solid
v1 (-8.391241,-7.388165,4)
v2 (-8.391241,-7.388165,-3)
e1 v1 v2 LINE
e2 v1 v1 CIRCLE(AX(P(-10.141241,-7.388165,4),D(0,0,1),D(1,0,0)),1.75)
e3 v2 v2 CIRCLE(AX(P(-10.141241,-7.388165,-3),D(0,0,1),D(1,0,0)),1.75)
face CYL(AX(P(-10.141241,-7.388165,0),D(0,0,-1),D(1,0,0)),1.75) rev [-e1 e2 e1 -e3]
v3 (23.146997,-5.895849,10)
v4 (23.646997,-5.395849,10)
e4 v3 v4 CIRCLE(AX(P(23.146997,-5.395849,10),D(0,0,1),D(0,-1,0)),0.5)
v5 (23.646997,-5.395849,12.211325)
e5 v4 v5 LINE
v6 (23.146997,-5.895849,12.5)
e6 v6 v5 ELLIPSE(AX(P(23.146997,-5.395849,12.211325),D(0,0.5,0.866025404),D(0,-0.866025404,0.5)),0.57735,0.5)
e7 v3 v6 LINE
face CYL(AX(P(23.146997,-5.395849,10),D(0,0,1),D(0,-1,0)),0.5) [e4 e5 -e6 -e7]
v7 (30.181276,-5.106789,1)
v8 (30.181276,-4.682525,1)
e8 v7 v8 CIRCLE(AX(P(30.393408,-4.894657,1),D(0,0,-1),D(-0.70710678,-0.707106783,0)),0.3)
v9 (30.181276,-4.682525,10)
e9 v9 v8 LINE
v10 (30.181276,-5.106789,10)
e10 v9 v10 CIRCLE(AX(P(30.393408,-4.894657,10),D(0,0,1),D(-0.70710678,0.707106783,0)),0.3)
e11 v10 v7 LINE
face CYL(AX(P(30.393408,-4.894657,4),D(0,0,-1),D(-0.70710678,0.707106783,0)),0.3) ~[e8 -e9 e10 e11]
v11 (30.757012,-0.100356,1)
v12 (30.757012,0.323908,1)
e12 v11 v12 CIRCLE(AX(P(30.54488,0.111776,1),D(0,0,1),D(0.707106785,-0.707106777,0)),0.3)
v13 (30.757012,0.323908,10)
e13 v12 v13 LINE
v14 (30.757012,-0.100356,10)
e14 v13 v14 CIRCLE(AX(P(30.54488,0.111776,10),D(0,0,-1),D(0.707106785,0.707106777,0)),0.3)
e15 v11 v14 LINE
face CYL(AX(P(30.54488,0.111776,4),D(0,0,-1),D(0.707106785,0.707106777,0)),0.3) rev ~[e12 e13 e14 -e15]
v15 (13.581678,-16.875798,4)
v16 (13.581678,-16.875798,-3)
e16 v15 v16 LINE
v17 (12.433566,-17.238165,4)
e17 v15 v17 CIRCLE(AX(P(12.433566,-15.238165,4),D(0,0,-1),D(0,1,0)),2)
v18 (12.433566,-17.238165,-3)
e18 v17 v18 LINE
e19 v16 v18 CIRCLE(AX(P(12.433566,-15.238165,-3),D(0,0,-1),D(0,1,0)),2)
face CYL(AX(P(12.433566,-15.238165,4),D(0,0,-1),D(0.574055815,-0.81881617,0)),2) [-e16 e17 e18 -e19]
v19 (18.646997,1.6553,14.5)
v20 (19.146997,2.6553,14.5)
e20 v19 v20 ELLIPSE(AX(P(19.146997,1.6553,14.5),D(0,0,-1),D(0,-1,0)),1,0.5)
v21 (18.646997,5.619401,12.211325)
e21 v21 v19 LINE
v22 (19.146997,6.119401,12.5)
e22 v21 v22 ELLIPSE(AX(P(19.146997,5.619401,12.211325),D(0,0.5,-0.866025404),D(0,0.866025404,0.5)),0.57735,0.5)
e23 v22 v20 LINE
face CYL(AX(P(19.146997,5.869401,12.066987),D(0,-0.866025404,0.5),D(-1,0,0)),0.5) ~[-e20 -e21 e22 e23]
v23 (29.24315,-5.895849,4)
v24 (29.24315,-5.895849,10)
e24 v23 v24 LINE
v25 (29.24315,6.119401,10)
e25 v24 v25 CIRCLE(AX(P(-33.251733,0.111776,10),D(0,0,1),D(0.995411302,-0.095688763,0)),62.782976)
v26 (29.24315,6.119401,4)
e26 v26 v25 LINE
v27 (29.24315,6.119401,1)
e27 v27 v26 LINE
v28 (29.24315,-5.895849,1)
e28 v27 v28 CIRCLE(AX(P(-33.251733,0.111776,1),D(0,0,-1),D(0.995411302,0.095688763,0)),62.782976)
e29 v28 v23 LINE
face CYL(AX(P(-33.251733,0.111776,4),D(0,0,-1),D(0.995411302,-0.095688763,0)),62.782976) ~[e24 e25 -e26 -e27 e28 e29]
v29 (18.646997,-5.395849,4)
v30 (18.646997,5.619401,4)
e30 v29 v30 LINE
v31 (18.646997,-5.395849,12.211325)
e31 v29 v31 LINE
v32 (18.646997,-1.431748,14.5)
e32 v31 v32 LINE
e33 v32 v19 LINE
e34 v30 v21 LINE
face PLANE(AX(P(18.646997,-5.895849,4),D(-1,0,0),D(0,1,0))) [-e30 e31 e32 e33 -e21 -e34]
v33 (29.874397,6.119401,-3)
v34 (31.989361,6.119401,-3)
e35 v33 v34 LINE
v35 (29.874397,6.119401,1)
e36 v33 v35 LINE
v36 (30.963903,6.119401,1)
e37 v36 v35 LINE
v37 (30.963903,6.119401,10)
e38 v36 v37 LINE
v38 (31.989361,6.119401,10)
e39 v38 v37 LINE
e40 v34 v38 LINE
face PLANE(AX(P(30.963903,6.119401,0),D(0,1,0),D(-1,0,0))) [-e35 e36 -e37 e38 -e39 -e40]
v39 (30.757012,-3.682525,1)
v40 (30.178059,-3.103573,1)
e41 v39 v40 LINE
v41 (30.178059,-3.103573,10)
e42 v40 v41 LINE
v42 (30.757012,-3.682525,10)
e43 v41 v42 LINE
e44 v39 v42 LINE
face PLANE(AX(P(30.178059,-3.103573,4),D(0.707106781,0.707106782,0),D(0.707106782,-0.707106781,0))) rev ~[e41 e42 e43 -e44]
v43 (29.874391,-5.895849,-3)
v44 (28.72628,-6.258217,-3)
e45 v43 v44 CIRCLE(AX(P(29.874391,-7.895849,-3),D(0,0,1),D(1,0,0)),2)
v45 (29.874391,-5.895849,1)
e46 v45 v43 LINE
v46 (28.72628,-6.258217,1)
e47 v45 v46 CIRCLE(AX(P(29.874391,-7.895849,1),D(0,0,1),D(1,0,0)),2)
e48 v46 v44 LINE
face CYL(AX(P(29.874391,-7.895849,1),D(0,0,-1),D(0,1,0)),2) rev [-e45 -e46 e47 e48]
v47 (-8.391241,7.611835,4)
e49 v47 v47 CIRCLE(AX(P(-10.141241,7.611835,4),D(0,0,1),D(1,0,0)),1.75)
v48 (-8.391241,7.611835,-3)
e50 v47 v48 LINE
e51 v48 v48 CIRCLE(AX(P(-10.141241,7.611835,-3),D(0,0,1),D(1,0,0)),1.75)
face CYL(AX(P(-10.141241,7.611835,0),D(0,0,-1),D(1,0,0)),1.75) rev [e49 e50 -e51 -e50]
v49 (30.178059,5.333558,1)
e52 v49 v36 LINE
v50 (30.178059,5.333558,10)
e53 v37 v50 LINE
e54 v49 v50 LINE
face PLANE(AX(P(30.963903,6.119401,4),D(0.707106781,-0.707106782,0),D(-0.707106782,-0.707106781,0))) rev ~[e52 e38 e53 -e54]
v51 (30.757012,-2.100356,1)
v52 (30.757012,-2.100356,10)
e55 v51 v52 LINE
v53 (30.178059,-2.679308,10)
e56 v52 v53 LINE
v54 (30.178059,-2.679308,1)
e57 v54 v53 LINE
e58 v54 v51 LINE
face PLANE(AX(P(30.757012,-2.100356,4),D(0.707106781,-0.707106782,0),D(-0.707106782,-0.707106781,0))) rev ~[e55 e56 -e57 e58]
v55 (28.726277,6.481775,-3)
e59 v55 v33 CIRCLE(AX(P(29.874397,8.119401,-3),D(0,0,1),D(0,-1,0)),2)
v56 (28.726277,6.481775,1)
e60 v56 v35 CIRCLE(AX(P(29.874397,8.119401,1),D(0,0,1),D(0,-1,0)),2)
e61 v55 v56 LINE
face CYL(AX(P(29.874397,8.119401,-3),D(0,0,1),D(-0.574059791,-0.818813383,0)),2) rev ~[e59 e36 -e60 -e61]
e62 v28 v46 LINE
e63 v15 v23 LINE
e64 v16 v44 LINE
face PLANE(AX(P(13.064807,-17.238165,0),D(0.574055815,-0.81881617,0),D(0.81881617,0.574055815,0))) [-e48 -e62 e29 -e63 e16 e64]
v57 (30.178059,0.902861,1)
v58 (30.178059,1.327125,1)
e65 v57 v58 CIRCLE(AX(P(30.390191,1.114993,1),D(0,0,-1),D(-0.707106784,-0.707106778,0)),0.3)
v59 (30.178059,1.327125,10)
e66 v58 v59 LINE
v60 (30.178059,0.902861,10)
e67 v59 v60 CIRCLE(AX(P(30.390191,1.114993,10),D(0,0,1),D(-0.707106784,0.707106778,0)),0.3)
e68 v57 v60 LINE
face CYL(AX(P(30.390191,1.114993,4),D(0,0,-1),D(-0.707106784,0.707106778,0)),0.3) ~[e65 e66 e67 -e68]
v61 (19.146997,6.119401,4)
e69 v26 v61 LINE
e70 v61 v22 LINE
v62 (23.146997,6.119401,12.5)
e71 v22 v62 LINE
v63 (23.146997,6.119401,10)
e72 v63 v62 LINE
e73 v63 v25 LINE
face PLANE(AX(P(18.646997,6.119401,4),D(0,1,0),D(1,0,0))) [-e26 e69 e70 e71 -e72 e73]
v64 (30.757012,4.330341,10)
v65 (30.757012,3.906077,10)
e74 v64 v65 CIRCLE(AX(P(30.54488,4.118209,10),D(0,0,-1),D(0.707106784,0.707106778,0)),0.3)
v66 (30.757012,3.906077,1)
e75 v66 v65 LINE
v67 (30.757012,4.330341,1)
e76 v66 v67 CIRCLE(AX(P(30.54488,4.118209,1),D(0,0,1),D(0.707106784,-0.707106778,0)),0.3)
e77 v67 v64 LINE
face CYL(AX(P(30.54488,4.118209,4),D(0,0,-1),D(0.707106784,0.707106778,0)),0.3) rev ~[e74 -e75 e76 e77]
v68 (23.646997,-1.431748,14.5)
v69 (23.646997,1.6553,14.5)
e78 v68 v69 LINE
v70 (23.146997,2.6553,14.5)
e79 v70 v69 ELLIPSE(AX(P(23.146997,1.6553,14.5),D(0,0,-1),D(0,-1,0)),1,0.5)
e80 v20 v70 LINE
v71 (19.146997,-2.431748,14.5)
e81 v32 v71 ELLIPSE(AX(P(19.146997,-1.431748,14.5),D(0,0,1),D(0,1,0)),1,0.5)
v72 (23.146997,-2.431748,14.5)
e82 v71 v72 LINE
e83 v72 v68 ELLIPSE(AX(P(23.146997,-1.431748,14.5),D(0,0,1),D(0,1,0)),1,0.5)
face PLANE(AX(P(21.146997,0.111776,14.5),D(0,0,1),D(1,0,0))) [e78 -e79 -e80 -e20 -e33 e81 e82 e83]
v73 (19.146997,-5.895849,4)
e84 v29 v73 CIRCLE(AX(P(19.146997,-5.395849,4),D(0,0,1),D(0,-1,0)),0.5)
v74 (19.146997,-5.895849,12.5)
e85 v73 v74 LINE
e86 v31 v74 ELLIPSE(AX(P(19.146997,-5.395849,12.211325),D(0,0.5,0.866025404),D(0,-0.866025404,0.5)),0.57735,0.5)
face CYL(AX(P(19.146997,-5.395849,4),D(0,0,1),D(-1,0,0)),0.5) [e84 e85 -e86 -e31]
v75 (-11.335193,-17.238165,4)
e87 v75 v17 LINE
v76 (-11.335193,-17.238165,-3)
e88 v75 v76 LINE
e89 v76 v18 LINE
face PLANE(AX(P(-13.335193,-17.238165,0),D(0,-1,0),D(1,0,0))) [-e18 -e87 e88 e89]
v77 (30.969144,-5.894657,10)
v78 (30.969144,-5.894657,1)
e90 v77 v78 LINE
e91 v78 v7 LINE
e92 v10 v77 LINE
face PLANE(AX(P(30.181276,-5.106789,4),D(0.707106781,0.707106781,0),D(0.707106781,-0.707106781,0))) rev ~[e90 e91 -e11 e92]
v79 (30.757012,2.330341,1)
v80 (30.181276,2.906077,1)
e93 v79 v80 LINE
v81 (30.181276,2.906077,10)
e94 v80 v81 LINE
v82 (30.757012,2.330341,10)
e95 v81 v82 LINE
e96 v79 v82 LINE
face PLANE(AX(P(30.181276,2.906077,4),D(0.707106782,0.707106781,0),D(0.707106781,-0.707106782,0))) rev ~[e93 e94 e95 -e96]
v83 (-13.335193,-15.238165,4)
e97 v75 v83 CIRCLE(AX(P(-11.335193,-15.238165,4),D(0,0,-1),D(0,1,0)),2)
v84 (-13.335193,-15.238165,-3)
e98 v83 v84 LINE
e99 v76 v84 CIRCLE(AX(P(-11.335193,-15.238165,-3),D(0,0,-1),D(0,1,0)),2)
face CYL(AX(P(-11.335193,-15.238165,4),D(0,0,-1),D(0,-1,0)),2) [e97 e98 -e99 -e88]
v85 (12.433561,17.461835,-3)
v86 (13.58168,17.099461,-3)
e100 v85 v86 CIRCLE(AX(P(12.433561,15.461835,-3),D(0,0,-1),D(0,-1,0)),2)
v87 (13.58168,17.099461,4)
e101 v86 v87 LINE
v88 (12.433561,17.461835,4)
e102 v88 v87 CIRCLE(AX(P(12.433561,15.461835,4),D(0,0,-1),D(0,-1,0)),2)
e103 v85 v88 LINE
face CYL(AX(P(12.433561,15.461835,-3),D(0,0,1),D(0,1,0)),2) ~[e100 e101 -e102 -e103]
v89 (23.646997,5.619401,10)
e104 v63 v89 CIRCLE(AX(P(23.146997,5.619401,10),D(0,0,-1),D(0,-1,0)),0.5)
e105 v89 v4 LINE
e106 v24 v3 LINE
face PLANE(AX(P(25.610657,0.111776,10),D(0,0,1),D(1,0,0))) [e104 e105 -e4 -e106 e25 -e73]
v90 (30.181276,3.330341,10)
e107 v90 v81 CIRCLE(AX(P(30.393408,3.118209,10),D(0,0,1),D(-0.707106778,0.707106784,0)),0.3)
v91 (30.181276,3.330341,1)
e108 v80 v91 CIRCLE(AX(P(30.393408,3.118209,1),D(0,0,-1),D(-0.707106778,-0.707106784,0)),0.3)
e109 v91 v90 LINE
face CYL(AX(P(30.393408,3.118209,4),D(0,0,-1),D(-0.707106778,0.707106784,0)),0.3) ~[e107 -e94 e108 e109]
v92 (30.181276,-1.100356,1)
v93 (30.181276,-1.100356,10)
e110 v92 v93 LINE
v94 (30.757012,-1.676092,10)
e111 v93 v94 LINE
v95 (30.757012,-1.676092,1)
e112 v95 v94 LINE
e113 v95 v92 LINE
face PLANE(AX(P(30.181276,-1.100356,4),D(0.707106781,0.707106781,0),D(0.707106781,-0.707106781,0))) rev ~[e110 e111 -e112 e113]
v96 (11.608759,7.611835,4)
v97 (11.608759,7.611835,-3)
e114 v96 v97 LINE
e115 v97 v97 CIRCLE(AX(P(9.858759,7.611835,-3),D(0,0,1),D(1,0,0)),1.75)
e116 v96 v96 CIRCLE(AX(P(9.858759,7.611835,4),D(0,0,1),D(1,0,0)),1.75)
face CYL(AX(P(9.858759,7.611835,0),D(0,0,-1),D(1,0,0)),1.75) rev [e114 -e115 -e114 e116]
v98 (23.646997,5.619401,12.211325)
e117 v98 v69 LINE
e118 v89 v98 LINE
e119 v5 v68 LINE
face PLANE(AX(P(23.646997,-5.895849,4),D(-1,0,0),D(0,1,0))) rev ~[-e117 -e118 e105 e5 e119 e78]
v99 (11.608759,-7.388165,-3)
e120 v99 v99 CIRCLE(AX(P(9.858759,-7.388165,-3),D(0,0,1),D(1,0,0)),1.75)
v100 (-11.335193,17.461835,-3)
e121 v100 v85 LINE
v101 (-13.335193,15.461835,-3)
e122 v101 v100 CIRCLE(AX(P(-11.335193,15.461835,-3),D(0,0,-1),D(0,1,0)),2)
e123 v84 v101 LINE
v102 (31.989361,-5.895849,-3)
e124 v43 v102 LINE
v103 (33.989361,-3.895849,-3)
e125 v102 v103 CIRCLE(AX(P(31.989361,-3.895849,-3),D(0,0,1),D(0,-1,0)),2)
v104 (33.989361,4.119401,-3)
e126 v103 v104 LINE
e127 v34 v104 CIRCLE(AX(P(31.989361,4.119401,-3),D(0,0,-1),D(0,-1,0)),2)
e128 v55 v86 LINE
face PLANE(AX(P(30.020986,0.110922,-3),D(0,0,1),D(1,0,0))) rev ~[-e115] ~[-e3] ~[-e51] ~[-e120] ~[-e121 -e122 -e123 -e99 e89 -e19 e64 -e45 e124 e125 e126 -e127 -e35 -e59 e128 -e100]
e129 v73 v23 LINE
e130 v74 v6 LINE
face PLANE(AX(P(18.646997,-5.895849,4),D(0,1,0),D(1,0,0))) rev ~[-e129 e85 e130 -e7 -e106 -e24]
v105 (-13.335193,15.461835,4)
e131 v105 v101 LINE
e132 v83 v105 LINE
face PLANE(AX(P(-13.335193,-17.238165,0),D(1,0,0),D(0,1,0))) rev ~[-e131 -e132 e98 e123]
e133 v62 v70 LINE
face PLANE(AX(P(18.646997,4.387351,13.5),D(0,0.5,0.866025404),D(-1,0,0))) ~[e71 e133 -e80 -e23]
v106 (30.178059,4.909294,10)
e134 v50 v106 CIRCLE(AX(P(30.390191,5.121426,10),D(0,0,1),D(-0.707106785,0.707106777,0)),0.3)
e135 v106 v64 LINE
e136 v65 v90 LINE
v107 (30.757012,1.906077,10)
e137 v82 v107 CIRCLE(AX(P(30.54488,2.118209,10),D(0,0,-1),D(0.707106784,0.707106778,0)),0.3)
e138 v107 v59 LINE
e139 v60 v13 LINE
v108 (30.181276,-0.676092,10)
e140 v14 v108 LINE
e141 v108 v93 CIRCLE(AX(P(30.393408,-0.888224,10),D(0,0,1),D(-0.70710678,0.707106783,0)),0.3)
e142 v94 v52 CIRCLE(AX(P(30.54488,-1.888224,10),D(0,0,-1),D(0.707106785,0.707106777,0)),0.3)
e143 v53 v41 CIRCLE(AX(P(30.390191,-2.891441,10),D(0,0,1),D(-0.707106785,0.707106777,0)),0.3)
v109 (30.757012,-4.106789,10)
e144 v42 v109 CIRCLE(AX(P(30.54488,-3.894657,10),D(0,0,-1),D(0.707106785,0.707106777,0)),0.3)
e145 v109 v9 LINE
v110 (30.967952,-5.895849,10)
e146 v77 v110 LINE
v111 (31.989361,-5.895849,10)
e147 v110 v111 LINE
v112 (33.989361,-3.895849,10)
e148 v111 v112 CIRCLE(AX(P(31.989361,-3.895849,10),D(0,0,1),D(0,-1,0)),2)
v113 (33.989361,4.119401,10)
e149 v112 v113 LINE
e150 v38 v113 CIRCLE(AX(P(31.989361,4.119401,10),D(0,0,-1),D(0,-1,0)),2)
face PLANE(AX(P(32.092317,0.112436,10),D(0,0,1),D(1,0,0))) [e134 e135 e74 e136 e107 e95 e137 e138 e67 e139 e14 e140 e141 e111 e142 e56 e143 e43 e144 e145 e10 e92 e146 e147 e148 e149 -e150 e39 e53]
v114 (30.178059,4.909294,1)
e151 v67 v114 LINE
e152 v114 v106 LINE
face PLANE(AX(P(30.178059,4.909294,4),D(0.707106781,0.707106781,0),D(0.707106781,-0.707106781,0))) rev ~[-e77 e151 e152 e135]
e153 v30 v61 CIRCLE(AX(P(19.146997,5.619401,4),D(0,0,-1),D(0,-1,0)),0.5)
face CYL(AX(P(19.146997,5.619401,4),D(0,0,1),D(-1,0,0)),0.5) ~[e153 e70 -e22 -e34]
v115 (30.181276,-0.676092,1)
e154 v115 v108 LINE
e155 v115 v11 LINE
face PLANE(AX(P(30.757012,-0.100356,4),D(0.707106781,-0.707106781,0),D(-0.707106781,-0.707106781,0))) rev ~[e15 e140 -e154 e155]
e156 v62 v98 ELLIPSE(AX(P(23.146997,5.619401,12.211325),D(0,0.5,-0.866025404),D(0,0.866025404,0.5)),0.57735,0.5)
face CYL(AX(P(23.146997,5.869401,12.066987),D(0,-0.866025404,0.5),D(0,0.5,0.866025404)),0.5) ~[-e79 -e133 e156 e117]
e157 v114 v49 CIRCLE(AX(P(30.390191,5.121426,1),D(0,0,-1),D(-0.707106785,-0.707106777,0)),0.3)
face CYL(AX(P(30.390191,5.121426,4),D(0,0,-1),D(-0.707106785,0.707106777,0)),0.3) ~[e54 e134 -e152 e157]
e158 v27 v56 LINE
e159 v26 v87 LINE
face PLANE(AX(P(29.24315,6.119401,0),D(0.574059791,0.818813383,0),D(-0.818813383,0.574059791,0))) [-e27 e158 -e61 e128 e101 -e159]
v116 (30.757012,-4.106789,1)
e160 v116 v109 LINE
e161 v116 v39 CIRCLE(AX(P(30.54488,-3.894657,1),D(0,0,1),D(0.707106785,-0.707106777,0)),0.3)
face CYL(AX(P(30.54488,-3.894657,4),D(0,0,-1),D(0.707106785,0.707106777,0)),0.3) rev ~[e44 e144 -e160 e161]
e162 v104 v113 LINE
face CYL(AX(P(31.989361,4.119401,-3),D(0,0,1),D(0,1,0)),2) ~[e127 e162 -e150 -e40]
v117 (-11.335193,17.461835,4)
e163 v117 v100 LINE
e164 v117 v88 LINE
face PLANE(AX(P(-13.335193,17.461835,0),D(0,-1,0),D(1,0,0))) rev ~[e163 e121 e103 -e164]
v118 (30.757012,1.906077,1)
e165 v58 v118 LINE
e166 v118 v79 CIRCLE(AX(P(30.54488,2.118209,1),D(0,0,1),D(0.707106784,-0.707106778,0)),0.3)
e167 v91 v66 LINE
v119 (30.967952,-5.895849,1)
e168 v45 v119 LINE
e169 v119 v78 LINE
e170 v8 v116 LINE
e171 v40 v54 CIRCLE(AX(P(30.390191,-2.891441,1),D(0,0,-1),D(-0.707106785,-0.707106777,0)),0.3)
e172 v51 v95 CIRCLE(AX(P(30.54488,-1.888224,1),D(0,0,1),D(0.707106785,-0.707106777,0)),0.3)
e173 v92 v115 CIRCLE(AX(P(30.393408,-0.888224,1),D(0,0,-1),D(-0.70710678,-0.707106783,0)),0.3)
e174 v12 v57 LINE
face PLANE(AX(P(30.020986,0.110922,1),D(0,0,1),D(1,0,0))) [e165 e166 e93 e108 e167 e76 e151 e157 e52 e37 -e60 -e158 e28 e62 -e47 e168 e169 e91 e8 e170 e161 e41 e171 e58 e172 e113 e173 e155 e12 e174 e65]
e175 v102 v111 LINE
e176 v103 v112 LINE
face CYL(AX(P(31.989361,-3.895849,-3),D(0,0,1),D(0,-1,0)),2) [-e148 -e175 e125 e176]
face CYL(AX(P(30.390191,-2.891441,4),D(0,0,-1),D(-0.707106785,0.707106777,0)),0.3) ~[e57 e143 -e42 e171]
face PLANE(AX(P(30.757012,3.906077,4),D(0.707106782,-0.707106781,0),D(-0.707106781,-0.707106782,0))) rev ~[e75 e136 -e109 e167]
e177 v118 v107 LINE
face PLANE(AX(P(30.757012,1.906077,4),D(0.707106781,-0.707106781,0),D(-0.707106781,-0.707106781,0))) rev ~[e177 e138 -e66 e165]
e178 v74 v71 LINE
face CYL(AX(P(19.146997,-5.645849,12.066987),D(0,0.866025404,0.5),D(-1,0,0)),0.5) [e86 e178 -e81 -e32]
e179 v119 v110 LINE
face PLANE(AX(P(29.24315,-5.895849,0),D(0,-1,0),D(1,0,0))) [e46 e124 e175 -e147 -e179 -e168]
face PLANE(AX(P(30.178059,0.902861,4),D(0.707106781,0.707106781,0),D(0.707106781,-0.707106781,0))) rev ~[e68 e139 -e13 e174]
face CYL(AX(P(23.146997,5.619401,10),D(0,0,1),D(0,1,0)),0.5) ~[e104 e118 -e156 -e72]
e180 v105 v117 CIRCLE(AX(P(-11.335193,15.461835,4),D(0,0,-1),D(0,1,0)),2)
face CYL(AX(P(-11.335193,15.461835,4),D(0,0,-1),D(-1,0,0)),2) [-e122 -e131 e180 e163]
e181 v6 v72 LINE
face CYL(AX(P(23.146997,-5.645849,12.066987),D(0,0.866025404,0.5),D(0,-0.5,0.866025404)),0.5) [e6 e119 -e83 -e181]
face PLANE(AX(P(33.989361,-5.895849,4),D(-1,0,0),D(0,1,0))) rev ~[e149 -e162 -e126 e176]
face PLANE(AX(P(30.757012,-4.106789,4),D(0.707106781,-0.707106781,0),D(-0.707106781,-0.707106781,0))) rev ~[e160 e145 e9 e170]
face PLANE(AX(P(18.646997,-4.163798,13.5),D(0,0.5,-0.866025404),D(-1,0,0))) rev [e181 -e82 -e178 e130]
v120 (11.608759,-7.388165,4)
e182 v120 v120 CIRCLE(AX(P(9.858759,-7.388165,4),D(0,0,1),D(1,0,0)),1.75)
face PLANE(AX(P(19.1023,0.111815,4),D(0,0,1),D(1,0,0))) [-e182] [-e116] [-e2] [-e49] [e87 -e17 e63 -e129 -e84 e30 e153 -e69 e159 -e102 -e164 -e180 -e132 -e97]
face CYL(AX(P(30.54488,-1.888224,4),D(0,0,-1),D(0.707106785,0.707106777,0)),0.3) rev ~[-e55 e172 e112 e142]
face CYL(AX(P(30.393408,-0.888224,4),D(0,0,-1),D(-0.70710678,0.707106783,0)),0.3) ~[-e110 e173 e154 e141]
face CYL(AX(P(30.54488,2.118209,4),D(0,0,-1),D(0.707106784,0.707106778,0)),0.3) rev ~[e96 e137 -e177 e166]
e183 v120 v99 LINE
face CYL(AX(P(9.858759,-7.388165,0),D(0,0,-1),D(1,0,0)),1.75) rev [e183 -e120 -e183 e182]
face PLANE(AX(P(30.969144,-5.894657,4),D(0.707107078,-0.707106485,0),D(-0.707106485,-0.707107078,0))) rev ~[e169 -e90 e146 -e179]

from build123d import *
from OCP.BRepFilletAPI import BRepFilletAPI_MakeChamfer

# Parameters (mm, degrees)
EXTRUDE_1_DEPTH        = 4
EXTRUDE_1_DEPTH_BACK   = 3
SKETCH_1_R             = 1.75
EXTRUDE_1_2_DEPTH      = 4
EXTRUDE_1_2_DEPTH_BACK = 3
EXTRUDE_START          = 4
EXTRUDE_2_DEPTH        = 6
EXTRUDE_3_DEPTH        = 1
EXTRUDE_3_DEPTH_BACK   = 3
FILLET_1_R             = 2
SKETCH_2_W             = 5
SKETCH_2_H             = 12.015250562
EXTRUDE_4_DEPTH        = 10.5
CHAMFER_2_SIZE         = 2
CHAMFER_2_SIZE2        = 3.464101615
FILLET_2_R             = 0.5


with BuildPart() as part:
    # Эскиз1 → Бобышка-Вытянуть1 (new, two sides: drawn at the far end of the back side and taken through both)
    with BuildSketch(Plane.XY.offset(-EXTRUDE_1_DEPTH_BACK)):
        with BuildLine():
            Line((-13.335192836, 17.461834668), (-13.335192836, -17.238165332))
            Line((-13.335192836, -17.238165332), (13.064807164, -17.238165332))
            Line((13.064807164, -17.238165332), (29.24315013, -5.895849196))
            ThreePointArc((29.24315013, -5.895849196), (29.53124223, 0.111776085), (29.24315013, 6.119401366))
            Line((29.24315013, 6.119401366), (13.064807164, 17.461834668))
            Line((13.064807164, 17.461834668), (-13.335192836, 17.461834668))
        make_face()
        with Locations((-10.14124139, -7.388165332)):
            Circle(SKETCH_1_R, mode=Mode.SUBTRACT)
        with Locations((9.85875861, -7.388165332)):
            Circle(SKETCH_1_R, mode=Mode.SUBTRACT)
        with Locations((-10.14124139, 7.611834668)):
            Circle(SKETCH_1_R, mode=Mode.SUBTRACT)
        with Locations((9.85875861, 7.611834668)):
            Circle(SKETCH_1_R, mode=Mode.SUBTRACT)
    extrude(amount=EXTRUDE_1_DEPTH + EXTRUDE_1_DEPTH_BACK)



with BuildPart() as body_2:
    # Эскиз1 → Extrude 1 2 (new, two sides: drawn at the far end of the back side and taken through both)
    with BuildSketch(Plane.XY.offset(-EXTRUDE_1_2_DEPTH_BACK)):
        with BuildLine():
            Line((30.969143909, -5.894657137), (30.967951851, -5.895849196))
            Line((30.967951851, -5.895849196), (33.989360696, -5.895849196))
            Line((33.989360696, -5.895849196), (33.989360696, 6.119401366))
            Line((33.989360696, 6.119401366), (30.963902746, 6.119401366))
            Line((30.963902746, 6.119401366), (30.178059332, 5.333557953))
            ThreePointArc((30.178059332, 5.333557953), (30.090191367, 5.121425918), (30.178059332, 4.909293884))
            Line((30.178059332, 4.909293884), (30.757011875, 4.330341341))
            ThreePointArc((30.757011875, 4.330341341), (30.84487984, 4.118209307), (30.757011875, 3.906077273))
            Line((30.757011875, 3.906077273), (30.181275944, 3.330341341))
            ThreePointArc((30.181275944, 3.330341341), (30.093407978, 3.118209307), (30.181275944, 2.906077273))
            Line((30.181275944, 2.906077273), (30.757011875, 2.330341341))
            ThreePointArc((30.757011875, 2.330341341), (30.84487984, 2.118209307), (30.757011875, 1.906077273))
            Line((30.757011875, 1.906077273), (30.178059332, 1.32712473))
            ThreePointArc((30.178059332, 1.32712473), (30.090191367, 1.114992696), (30.178059332, 0.902860662))
            Line((30.178059332, 0.902860662), (30.757011875, 0.323908119))
            ThreePointArc((30.757011875, 0.323908119), (30.84487984, 0.111776085), (30.757011875, -0.10035595))
            Line((30.757011875, -0.10035595), (30.181275944, -0.676091881))
            ThreePointArc((30.181275944, -0.676091881), (30.093407978, -0.888223915), (30.181275944, -1.10035595))
            Line((30.181275944, -1.10035595), (30.757011875, -1.676091881))
            ThreePointArc((30.757011875, -1.676091881), (30.84487984, -1.888223915), (30.757011875, -2.10035595))
            Line((30.757011875, -2.10035595), (30.178059332, -2.679308492))
            ThreePointArc((30.178059332, -2.679308492), (30.090191367, -2.891440526), (30.178059332, -3.103572561))
            Line((30.178059332, -3.103572561), (30.757011875, -3.682525103))
            ThreePointArc((30.757011875, -3.682525103), (30.84487984, -3.894657137), (30.757011875, -4.106789172))
            Line((30.757011875, -4.106789172), (30.181275944, -4.682525103))
            ThreePointArc((30.181275944, -4.682525103), (30.093407978, -4.894657137), (30.181275944, -5.106789172))
            Line((30.181275944, -5.106789172), (30.969143909, -5.894657137))
        make_face()
    extrude(amount=EXTRUDE_1_2_DEPTH + EXTRUDE_1_2_DEPTH_BACK)


with BuildPart() as part_1:
    add(part.part)

    add(body_2.part)  # Бобышка-Вытянуть2 merges body 2
    # Эскиз1<3> → Бобышка-Вытянуть2 (add)
    with BuildSketch(Plane.XY.offset(EXTRUDE_START)):
        with BuildLine():
            Line((21.86916953, -5.895849196), (29.24315013, -5.895849196))
            ThreePointArc((29.24315013, -5.895849196), (29.53124223, 0.111776085), (29.24315013, 6.119401366))
            Line((29.24315013, 6.119401366), (21.86916953, 6.119401366))
            Line((21.86916953, 6.119401366), (21.86916953, -5.895849196))
        make_face()
        with BuildLine():
            Line((30.969143909, -5.894657137), (30.967951851, -5.895849196))
            Line((30.967951851, -5.895849196), (33.989360696, -5.895849196))
            Line((33.989360696, -5.895849196), (33.989360696, 6.119401366))
            Line((33.989360696, 6.119401366), (30.963902746, 6.119401366))
            Line((30.963902746, 6.119401366), (30.178059332, 5.333557953))
            ThreePointArc((30.178059332, 5.333557953), (30.090191367, 5.121425918), (30.178059332, 4.909293884))
            Line((30.178059332, 4.909293884), (30.757011875, 4.330341341))
            ThreePointArc((30.757011875, 4.330341341), (30.84487984, 4.118209307), (30.757011875, 3.906077273))
            Line((30.757011875, 3.906077273), (30.181275944, 3.330341341))
            ThreePointArc((30.181275944, 3.330341341), (30.093407978, 3.118209307), (30.181275944, 2.906077273))
            Line((30.181275944, 2.906077273), (30.757011875, 2.330341341))
            ThreePointArc((30.757011875, 2.330341341), (30.84487984, 2.118209307), (30.757011875, 1.906077273))
            Line((30.757011875, 1.906077273), (30.178059332, 1.32712473))
            ThreePointArc((30.178059332, 1.32712473), (30.090191367, 1.114992696), (30.178059332, 0.902860662))
            Line((30.178059332, 0.902860662), (30.757011875, 0.323908119))
            ThreePointArc((30.757011875, 0.323908119), (30.84487984, 0.111776085), (30.757011875, -0.10035595))
            Line((30.757011875, -0.10035595), (30.181275944, -0.676091881))
            ThreePointArc((30.181275944, -0.676091881), (30.093407978, -0.888223915), (30.181275944, -1.10035595))
            Line((30.181275944, -1.10035595), (30.757011875, -1.676091881))
            ThreePointArc((30.757011875, -1.676091881), (30.84487984, -1.888223915), (30.757011875, -2.10035595))
            Line((30.757011875, -2.10035595), (30.178059332, -2.679308492))
            ThreePointArc((30.178059332, -2.679308492), (30.090191367, -2.891440526), (30.178059332, -3.103572561))
            Line((30.178059332, -3.103572561), (30.757011875, -3.682525103))
            ThreePointArc((30.757011875, -3.682525103), (30.84487984, -3.894657137), (30.757011875, -4.106789172))
            Line((30.757011875, -4.106789172), (30.181275944, -4.682525103))
            ThreePointArc((30.181275944, -4.682525103), (30.093407978, -4.894657137), (30.181275944, -5.106789172))
            Line((30.181275944, -5.106789172), (30.969143909, -5.894657137))
        make_face()
    extrude(amount=EXTRUDE_2_DEPTH)

    # Эскиз1<4> → Бобышка-Вытянуть3 (add, two sides: drawn at the far end of the back side and taken through both)
    with BuildSketch(Plane.XY.offset(-EXTRUDE_3_DEPTH_BACK)):
        with BuildLine():
            ThreePointArc((29.24315013, 6.119401366), (29.53124223, 0.111776085), (29.24315013, -5.895849196))
            Line((29.24315013, -5.895849196), (30.967951851, -5.895849196))
            Line((30.967951851, -5.895849196), (30.969143909, -5.894657137))
            Line((30.969143909, -5.894657137), (30.181275944, -5.106789172))
            ThreePointArc((30.181275944, -5.106789172), (30.093407978, -4.894657137), (30.181275944, -4.682525103))
            Line((30.181275944, -4.682525103), (30.757011875, -4.106789172))
            ThreePointArc((30.757011875, -4.106789172), (30.84487984, -3.894657137), (30.757011875, -3.682525103))
            Line((30.757011875, -3.682525103), (30.178059332, -3.103572561))
            ThreePointArc((30.178059332, -3.103572561), (30.090191367, -2.891440526), (30.178059332, -2.679308492))
            Line((30.178059332, -2.679308492), (30.757011875, -2.10035595))
            ThreePointArc((30.757011875, -2.10035595), (30.84487984, -1.888223915), (30.757011875, -1.676091881))
            Line((30.757011875, -1.676091881), (30.181275944, -1.10035595))
            ThreePointArc((30.181275944, -1.10035595), (30.093407978, -0.888223915), (30.181275944, -0.676091881))
            Line((30.181275944, -0.676091881), (30.757011875, -0.10035595))
            ThreePointArc((30.757011875, -0.10035595), (30.84487984, 0.111776085), (30.757011875, 0.323908119))
            Line((30.757011875, 0.323908119), (30.178059332, 0.902860662))
            ThreePointArc((30.178059332, 0.902860662), (30.090191367, 1.114992696), (30.178059332, 1.32712473))
            Line((30.178059332, 1.32712473), (30.757011875, 1.906077273))
            ThreePointArc((30.757011875, 1.906077273), (30.84487984, 2.118209307), (30.757011875, 2.330341341))
            Line((30.757011875, 2.330341341), (30.181275944, 2.906077273))
            ThreePointArc((30.181275944, 2.906077273), (30.093407978, 3.118209307), (30.181275944, 3.330341341))
            Line((30.181275944, 3.330341341), (30.757011875, 3.906077273))
            ThreePointArc((30.757011875, 3.906077273), (30.84487984, 4.118209307), (30.757011875, 4.330341341))
            Line((30.757011875, 4.330341341), (30.178059332, 4.909293884))
            ThreePointArc((30.178059332, 4.909293884), (30.090191367, 5.121425918), (30.178059332, 5.333557953))
            Line((30.178059332, 5.333557953), (30.963902746, 6.119401366))
            Line((30.963902746, 6.119401366), (29.24315013, 6.119401366))
        make_face()
    extrude(amount=EXTRUDE_3_DEPTH + EXTRUDE_3_DEPTH_BACK)

    # Скругление1
    fillet_1_edges = [part_1.edges().sort_by_distance(p)[0] for p in [
        (13.064807164, 17.461834668, 0.5),
        (13.064807164, -17.238165332, 0.5),
        (-13.335192836, -17.238165332, 0.5),
        (-13.335192836, 17.461834668, 0.5),
        (33.989360696, -5.895849196, 3.5),
        (33.989360696, 6.119401366, 3.5),
        (29.24315013, -5.895849196, -1),
        (29.24315013, 6.119401366, -1),
    ]]
    fillet(fillet_1_edges, radius=FILLET_1_R)

    # Эскиз2 → Бобышка-Вытянуть4 (add)
    with BuildSketch(Plane.XY.offset(4)):
        with Locations((21.146996963, 0.111776085)):
            Rectangle(SKETCH_2_W, SKETCH_2_H)
    extrude(amount=EXTRUDE_4_DEPTH)

    # Фаска2: one chamfer whose edges measure the first distance from different faces: ONE call of the kernel's chamfer builder (chamfer() names one face for all edges)
    chamfer_2_edges_1 = [part_1.edges().sort_by_distance(p)[0] for p in [
        (21.146996963, -5.895849196, 14.5),
    ]]
    chamfer_2_side_1 = [part_1.faces().sort_by_distance(p)[0] for p in [
        (23.213672797, -5.895849196, 8.3723191),
    ]]
    chamfer_2_edges_2 = [part_1.edges().sort_by_distance(p)[0] for p in [
        (21.146996963, 6.119401366, 14.5),
    ]]
    chamfer_2_side_2 = [part_1.faces().sort_by_distance(p)[0] for p in [
        (23.213672797, 6.119401366, 8.3723191),
    ]]
    chamfer_2 = BRepFilletAPI_MakeChamfer(part_1.part.solid().wrapped)
    for e in chamfer_2_edges_1:
        chamfer_2.Add(CHAMFER_2_SIZE, CHAMFER_2_SIZE2, e.wrapped, chamfer_2_side_1[0].wrapped)  # the first distance lies on this face
    for e in chamfer_2_edges_2:
        chamfer_2.Add(CHAMFER_2_SIZE, CHAMFER_2_SIZE2, e.wrapped, chamfer_2_side_2[0].wrapped)  # the first distance lies on this face
    add(Compound.cast(chamfer_2.Shape()), mode=Mode.REPLACE)

    # Скругление2
    fillet_2_edges = [part_1.edges().sort_by_distance(p)[0] for p in [
        (23.646996963, -5.895849196, 11.25),
        (23.646996963, 6.119401366, 11.25),
        (18.646996963, -5.895849196, 8.25),
        (18.646996963, -4.163798388, 13.5),
        (18.646996963, 4.387350558, 13.5),
        (18.646996963, 6.119401366, 8.25),
        (23.646996963, 4.387350558, 13.5),
        (23.646996963, -4.163798388, 13.5),
    ]]
    fillet(fillet_2_edges, radius=FILLET_2_R)


solid = part_1.part
